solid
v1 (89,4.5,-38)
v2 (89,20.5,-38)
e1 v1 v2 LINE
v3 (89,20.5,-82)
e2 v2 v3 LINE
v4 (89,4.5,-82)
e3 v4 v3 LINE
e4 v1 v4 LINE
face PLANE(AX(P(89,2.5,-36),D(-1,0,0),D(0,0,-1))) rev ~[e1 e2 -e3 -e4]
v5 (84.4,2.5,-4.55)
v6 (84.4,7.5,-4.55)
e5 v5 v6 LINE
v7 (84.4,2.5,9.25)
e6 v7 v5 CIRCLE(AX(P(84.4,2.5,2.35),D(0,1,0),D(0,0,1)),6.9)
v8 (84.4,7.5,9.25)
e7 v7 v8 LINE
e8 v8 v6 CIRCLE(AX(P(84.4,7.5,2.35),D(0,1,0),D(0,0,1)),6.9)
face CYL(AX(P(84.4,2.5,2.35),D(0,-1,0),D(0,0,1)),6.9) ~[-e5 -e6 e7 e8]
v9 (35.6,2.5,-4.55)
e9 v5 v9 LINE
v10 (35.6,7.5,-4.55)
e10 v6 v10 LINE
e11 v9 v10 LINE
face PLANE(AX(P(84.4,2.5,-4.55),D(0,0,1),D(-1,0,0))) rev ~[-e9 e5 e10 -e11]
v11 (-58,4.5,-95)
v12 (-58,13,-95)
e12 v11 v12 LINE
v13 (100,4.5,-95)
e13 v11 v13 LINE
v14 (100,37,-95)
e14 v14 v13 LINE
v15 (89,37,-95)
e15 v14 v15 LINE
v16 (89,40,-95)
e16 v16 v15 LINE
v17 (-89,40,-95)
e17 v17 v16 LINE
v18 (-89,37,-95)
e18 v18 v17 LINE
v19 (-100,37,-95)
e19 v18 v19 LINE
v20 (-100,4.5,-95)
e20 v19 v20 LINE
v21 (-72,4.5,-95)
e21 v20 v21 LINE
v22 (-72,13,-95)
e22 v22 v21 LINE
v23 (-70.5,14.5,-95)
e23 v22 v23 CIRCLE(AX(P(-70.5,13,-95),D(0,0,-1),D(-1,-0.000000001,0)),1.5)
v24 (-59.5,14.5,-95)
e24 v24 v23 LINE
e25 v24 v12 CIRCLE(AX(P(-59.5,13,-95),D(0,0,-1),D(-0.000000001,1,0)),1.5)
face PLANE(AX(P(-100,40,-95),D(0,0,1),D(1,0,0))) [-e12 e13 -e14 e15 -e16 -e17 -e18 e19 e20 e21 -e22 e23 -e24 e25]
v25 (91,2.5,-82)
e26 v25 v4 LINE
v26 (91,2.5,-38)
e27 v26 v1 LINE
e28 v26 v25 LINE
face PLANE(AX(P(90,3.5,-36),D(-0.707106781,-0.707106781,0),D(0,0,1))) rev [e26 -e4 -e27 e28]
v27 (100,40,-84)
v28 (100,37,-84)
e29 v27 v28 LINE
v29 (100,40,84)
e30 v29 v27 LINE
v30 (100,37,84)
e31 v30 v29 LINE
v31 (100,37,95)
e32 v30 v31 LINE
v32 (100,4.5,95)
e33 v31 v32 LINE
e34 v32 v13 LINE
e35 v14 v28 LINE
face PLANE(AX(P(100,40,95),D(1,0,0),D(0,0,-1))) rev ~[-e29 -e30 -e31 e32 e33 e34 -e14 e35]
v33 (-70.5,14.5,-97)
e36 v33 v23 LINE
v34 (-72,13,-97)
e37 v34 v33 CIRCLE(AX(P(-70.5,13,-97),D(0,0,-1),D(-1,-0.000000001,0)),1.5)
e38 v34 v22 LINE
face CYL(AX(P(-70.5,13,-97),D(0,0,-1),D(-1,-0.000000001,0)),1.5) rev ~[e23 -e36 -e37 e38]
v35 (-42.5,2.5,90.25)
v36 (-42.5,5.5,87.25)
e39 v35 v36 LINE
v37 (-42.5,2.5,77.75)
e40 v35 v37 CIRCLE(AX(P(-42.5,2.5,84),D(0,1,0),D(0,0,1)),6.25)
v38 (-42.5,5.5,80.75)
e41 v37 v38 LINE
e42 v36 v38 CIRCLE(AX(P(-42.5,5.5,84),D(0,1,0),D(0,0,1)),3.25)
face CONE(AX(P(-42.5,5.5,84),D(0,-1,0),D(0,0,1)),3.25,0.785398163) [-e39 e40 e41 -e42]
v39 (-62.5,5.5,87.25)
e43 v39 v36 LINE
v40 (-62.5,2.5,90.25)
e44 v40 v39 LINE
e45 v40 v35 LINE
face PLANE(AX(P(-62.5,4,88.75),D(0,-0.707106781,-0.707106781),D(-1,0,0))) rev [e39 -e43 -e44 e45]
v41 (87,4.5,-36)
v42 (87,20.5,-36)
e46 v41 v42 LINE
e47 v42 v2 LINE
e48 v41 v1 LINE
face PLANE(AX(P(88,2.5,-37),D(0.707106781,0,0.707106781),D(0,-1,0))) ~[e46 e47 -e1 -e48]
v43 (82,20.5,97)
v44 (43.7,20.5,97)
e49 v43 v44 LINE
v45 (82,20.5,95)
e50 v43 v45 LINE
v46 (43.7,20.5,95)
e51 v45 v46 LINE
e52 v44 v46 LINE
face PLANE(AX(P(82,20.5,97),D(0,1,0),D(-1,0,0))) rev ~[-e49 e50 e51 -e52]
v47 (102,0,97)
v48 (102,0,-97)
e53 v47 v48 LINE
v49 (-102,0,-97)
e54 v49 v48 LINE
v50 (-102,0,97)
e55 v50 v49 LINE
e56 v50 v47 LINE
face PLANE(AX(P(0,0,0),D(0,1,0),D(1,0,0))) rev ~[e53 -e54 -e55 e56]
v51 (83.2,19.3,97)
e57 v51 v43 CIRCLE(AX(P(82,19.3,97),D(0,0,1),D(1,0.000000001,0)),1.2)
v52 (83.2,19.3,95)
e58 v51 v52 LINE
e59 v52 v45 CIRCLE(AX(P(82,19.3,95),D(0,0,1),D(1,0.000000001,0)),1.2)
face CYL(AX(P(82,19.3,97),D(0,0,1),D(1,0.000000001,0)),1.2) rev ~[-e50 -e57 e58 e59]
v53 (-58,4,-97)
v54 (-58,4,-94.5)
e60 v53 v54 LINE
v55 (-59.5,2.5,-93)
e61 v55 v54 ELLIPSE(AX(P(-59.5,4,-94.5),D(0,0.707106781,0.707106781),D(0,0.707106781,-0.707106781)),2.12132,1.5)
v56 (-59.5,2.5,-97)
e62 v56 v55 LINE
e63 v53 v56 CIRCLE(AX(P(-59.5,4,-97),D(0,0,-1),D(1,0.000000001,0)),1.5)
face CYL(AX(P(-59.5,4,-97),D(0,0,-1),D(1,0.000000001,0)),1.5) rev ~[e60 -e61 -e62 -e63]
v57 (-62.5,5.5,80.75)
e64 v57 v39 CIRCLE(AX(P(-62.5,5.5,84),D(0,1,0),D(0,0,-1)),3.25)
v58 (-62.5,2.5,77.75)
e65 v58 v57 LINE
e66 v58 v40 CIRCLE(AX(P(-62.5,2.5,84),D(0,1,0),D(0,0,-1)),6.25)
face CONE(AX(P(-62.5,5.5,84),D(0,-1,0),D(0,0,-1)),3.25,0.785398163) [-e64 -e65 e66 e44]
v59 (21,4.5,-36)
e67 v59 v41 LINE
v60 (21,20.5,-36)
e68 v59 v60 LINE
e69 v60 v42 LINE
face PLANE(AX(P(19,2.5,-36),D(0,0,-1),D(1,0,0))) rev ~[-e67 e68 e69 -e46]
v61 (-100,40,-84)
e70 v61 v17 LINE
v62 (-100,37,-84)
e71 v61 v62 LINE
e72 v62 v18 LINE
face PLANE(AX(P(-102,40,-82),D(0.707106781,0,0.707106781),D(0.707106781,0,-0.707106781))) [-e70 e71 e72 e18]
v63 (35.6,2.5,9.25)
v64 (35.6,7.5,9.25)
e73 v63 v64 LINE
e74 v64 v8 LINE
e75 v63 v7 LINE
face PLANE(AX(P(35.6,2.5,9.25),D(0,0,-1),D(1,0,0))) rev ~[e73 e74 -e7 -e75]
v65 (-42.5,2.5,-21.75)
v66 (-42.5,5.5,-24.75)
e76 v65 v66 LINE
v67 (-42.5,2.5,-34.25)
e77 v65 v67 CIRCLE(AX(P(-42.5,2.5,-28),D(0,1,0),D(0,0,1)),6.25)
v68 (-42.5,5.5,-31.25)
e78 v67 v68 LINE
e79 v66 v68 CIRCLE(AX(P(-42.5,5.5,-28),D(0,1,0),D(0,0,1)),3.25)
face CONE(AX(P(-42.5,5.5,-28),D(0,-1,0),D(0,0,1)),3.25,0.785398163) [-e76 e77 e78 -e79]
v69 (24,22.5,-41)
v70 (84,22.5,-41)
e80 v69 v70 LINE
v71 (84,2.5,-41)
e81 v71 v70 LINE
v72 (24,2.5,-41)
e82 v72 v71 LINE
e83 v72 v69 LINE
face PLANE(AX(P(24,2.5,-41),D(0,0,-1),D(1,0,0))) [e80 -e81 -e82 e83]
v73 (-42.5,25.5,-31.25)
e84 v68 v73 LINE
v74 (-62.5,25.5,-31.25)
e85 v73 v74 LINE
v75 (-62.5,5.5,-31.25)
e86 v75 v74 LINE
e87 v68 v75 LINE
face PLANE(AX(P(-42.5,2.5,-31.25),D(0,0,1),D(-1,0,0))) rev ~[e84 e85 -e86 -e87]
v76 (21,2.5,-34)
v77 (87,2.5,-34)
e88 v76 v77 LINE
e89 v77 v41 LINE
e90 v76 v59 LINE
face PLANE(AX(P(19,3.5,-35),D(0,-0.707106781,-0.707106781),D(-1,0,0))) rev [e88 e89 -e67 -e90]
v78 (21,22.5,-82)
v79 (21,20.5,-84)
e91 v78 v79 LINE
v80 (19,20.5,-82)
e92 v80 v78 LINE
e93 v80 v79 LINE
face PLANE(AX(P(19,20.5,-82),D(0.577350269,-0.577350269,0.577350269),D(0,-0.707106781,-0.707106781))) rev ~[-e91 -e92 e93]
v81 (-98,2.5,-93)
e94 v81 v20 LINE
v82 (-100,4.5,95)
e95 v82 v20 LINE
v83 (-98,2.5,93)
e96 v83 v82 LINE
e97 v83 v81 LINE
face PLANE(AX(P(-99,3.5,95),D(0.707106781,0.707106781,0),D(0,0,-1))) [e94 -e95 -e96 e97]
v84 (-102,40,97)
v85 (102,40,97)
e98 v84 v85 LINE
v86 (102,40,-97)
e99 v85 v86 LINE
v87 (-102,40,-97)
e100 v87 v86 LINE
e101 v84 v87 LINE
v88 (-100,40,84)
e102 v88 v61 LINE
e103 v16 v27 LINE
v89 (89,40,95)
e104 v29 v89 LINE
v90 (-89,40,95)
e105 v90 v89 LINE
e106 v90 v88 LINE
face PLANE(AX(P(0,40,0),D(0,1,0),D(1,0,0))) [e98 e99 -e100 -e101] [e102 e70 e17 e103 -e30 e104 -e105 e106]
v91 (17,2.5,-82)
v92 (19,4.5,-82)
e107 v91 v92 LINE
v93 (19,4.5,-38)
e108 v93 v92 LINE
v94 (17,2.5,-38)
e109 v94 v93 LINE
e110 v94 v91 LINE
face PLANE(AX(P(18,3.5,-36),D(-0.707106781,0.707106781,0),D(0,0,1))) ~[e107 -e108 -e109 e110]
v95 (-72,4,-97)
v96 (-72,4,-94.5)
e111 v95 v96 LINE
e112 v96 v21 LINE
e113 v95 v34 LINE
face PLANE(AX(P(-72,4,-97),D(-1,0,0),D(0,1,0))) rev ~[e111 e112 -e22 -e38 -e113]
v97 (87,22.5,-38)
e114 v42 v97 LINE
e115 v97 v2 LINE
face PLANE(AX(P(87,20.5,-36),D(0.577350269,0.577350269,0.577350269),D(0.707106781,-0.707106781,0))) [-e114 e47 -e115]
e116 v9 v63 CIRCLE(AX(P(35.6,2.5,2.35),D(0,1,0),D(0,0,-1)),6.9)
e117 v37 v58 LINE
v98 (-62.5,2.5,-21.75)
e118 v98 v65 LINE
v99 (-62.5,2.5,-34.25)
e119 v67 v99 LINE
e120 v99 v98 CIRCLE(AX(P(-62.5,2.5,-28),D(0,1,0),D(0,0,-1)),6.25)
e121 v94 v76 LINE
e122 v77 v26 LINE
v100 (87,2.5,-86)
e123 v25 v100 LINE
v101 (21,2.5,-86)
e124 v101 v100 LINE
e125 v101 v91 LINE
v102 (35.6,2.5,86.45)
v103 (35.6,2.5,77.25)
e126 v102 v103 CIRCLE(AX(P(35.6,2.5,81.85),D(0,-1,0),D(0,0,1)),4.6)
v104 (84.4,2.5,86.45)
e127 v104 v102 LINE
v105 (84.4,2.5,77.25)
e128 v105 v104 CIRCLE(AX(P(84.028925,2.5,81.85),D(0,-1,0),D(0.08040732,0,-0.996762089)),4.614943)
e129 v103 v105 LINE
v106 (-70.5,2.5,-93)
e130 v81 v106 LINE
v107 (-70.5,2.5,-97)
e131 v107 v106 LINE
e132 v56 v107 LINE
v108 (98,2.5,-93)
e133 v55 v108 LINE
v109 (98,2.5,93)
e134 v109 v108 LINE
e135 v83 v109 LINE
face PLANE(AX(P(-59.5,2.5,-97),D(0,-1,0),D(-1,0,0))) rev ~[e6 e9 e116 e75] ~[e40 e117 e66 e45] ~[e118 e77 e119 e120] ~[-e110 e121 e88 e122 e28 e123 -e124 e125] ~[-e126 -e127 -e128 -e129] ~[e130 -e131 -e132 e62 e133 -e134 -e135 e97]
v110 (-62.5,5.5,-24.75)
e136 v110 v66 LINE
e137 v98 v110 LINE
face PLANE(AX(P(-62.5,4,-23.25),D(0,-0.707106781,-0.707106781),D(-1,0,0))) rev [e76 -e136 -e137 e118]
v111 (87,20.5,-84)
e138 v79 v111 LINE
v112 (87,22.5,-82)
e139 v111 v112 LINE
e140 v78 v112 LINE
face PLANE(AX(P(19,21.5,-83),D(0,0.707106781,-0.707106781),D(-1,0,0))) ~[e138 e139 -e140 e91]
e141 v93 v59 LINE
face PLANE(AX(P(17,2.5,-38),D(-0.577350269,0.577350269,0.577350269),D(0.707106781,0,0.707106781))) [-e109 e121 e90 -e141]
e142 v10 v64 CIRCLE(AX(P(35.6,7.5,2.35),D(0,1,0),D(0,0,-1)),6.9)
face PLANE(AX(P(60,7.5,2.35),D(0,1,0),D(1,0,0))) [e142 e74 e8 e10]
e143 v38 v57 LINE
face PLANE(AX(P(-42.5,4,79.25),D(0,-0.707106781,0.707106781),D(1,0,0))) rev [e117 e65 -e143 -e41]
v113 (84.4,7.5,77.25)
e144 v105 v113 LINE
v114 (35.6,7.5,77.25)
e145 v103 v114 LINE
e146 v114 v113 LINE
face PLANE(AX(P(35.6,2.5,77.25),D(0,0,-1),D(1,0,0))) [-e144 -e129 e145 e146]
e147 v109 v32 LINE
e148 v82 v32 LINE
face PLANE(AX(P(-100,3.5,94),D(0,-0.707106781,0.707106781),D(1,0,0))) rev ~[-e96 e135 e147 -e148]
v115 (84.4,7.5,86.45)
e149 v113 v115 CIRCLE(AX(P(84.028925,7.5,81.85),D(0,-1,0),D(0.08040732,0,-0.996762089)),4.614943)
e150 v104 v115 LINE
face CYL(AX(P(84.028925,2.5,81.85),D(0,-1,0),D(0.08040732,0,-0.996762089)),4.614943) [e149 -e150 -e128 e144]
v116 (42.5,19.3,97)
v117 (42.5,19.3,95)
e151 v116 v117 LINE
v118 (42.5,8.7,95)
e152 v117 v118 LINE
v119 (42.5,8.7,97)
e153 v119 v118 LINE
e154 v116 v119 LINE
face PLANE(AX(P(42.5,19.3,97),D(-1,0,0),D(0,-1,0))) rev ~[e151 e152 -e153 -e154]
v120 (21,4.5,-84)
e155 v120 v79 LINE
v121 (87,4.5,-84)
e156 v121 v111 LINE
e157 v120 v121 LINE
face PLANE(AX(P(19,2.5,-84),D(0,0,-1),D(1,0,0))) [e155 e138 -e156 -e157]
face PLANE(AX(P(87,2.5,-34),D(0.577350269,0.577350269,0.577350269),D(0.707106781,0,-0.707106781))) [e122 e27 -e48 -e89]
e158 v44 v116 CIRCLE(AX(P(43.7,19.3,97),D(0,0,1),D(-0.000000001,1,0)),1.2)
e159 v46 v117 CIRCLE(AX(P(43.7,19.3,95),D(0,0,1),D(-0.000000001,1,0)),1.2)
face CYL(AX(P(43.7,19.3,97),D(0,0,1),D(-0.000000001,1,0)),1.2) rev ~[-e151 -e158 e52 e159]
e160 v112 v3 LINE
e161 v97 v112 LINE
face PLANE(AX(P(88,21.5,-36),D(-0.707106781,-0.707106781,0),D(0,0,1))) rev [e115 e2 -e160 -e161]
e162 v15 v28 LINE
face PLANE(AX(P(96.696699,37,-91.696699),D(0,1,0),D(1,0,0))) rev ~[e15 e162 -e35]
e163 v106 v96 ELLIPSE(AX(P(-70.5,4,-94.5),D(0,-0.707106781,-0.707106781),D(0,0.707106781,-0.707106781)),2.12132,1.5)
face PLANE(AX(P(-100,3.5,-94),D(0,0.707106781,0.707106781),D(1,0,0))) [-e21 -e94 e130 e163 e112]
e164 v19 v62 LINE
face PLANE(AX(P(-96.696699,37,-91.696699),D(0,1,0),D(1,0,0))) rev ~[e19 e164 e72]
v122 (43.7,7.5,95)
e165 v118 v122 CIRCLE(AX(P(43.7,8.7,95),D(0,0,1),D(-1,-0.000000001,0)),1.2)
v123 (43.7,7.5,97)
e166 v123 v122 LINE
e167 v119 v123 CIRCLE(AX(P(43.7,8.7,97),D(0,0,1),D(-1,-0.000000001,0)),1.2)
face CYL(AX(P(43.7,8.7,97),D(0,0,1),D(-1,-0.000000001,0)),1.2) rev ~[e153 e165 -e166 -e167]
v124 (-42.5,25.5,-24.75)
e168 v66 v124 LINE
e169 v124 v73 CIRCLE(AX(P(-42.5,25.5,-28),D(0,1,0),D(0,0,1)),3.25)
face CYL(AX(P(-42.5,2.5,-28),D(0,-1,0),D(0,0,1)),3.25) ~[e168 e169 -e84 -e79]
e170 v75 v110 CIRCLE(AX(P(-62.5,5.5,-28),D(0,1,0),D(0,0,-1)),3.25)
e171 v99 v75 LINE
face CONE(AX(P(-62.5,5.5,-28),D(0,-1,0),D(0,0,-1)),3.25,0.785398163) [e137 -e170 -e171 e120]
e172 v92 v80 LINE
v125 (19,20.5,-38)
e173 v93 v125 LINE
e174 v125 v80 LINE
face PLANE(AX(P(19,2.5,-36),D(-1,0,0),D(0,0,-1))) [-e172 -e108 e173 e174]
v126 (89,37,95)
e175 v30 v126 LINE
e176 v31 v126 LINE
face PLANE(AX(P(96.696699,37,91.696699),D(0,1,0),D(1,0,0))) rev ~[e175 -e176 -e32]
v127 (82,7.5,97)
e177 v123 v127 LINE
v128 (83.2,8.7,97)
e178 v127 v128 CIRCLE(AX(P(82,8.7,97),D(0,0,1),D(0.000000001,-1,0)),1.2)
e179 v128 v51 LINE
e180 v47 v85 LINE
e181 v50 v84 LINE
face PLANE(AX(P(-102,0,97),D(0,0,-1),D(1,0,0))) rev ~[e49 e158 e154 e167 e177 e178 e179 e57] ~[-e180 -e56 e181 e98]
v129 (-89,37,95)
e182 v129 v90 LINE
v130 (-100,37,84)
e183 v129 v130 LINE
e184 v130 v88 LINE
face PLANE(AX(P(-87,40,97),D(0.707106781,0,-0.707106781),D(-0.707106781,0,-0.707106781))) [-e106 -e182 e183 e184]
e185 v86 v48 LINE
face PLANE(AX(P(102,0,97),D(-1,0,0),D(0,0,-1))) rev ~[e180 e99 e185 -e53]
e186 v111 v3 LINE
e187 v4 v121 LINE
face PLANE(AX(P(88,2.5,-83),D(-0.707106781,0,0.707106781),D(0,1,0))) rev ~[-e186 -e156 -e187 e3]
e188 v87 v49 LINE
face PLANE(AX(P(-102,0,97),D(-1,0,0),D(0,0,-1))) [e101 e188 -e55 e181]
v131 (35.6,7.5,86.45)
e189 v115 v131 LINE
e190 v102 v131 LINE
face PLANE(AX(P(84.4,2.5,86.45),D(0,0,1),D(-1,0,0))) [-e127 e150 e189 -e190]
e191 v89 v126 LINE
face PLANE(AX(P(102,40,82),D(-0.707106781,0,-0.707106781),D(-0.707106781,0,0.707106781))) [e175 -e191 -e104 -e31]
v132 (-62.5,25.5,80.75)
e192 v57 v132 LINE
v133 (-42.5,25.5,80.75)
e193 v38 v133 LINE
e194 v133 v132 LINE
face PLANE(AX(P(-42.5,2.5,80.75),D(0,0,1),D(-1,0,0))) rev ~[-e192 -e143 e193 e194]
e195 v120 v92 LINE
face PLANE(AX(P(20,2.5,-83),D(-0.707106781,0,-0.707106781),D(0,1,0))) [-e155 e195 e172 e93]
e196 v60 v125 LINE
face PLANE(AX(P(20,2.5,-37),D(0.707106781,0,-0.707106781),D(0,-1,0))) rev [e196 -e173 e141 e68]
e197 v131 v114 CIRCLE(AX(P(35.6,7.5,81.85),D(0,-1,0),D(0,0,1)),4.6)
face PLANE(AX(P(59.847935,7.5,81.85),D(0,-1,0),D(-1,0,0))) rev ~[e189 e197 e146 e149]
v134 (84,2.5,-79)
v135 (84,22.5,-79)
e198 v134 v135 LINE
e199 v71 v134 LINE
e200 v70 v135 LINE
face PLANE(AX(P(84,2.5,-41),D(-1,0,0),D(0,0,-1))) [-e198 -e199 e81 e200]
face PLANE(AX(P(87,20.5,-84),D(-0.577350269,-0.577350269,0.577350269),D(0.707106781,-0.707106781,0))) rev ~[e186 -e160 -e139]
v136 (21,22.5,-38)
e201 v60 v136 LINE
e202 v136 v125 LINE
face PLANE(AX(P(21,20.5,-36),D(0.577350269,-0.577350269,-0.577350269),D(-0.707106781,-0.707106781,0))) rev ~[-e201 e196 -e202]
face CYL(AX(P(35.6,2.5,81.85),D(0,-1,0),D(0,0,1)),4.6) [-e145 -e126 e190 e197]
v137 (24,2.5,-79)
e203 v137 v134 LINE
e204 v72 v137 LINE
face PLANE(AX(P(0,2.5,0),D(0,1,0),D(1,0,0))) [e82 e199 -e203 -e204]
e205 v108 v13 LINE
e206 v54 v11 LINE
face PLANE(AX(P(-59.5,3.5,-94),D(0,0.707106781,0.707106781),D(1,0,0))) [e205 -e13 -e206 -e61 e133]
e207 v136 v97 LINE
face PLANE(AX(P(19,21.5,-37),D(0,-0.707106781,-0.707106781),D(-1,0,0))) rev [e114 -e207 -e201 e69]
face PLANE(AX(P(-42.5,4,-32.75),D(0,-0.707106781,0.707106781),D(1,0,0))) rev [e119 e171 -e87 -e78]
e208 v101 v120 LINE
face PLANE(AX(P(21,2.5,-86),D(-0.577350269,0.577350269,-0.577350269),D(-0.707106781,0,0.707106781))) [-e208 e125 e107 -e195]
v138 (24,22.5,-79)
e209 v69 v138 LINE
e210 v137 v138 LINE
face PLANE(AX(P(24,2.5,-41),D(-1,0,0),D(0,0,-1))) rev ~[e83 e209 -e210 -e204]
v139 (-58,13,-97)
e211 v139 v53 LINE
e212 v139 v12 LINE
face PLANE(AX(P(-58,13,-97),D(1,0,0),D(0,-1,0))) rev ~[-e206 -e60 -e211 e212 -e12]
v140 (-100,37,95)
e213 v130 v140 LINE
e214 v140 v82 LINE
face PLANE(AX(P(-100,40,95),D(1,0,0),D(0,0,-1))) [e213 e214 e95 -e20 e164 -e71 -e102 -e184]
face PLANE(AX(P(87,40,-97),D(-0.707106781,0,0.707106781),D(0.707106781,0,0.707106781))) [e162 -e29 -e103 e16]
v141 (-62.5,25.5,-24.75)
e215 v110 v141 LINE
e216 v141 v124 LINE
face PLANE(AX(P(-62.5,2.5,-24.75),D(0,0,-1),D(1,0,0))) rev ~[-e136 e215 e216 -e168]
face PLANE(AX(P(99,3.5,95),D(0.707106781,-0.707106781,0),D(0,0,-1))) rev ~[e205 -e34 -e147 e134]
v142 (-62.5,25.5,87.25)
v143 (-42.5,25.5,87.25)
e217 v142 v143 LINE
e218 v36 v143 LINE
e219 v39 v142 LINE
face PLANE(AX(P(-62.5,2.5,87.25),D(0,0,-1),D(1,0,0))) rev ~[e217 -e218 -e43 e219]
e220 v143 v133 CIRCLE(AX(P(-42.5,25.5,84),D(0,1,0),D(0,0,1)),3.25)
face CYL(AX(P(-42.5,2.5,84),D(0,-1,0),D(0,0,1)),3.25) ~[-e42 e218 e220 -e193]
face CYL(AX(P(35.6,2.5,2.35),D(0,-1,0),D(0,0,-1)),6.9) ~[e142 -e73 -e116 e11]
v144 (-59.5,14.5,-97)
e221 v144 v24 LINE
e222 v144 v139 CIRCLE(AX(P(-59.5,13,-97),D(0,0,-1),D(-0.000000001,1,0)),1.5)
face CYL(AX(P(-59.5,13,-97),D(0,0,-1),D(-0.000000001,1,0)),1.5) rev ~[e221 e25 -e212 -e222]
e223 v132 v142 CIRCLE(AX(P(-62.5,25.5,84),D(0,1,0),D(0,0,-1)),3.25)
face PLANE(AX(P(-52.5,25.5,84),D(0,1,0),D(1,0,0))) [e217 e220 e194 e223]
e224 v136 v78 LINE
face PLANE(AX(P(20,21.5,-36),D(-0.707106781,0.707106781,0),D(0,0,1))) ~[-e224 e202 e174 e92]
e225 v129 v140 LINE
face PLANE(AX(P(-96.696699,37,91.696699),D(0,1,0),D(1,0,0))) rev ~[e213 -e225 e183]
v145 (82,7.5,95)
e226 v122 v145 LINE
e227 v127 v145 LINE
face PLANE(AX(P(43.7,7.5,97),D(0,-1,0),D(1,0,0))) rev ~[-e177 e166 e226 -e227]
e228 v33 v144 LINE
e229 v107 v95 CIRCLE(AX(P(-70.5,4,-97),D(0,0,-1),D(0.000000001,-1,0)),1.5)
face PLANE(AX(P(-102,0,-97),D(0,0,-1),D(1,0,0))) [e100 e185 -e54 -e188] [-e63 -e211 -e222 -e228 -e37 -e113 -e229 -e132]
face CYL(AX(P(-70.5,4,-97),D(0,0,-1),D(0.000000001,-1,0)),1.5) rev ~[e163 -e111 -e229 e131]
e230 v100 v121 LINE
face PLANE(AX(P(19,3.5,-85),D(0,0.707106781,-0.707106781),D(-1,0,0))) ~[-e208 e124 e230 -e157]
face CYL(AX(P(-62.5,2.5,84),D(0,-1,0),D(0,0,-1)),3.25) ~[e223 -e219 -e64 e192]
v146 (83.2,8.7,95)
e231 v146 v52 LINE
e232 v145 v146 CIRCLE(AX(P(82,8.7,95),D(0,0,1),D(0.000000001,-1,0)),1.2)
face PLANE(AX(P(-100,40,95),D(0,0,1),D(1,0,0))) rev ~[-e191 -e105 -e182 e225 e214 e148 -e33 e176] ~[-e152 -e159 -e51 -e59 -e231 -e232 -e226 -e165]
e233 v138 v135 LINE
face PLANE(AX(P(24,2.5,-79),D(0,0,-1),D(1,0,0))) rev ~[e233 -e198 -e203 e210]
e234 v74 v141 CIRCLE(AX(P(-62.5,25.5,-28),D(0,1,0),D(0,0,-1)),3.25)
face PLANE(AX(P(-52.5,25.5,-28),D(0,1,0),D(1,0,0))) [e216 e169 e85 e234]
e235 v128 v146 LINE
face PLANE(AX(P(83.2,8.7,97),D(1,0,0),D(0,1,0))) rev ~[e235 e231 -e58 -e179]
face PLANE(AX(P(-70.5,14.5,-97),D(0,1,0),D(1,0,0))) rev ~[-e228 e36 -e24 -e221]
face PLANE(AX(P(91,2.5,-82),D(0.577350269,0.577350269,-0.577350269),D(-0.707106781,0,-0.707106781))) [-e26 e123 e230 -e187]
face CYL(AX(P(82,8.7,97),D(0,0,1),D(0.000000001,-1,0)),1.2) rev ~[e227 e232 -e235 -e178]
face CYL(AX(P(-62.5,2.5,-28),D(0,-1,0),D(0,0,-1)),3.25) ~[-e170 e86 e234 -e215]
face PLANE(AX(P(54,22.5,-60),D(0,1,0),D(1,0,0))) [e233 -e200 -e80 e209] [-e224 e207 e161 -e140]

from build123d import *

# Parameters (mm, degrees)
IZIM1_W                     = 204
IZIM1_H                     = 194
Y_KSEKLIK_EKSTR_ZYON2_DEPTH = 40
IZIM3_W                     = 200
IZIM3_H                     = 190
KES_EKSTR_ZYON2_DEPTH       = 37.5
Y_KSEKLIK_EKSTR_ZYON3_DEPTH = 23
IZIM6_W                     = 70
IZIM6_H                     = 48
IZIM6_W_2                   = 60
IZIM6_H_2                   = 38
Y_KSEKLIK_EKSTR_ZYON4_DEPTH = 20
Y_KSEKLIK_EKSTR_ZYON7_DEPTH = 5
Y_KSEKLIK_EKSTR_ZYON8_DEPTH = 3
KES_EKSTR_ZYON5_DEPTH       = 3
KES_EKSTR_ZYON7_DEPTH       = 3
PAH1_SIZE                   = 2
PAH2_SIZE                   = 3


with BuildPart() as part:
    # Çizim1 → Yükseklik-Ekstrüzyon2 (new body)
    with BuildSketch(Plane(origin=(0, 0, 0), x_dir=(1, 0, 0), z_dir=(0, 1, 0))):
        Rectangle(IZIM1_W, IZIM1_H)
    extrude(amount=Y_KSEKLIK_EKSTR_ZYON2_DEPTH)

    # Çizim3 → Kes-Ekstrüzyon2 (cut)
    with BuildSketch(Plane(origin=(0, 40, 0), x_dir=(1, 0, 0), z_dir=(0, 1, 0))):
        Rectangle(IZIM3_W, IZIM3_H)
    extrude(amount=-KES_EKSTR_ZYON2_DEPTH, mode=Mode.SUBTRACT)

    # Çizim4 → Yükseklik-Ekstrüzyon3 (add)
    with BuildSketch(Plane(origin=(0, 2.5, 0), x_dir=(1, 0, 0), z_dir=(0, 1, 0))):
        with BuildLine():
            Line((-62.5, 24.75), (-42.5, 24.75))
            ThreePointArc((-42.5, 24.75), (-39.25, 28), (-42.5, 31.25))
            Line((-42.5, 31.25), (-62.5, 31.25))
            ThreePointArc((-62.5, 31.25), (-65.75, 28), (-62.5, 24.75))
        make_face()
        with BuildLine():
            Line((-62.5, -87.25), (-42.5, -87.25))
            ThreePointArc((-42.5, -87.25), (-39.25, -84), (-42.5, -80.75))
            Line((-42.5, -80.75), (-62.5, -80.75))
            ThreePointArc((-62.5, -80.75), (-65.75, -84), (-62.5, -87.25))
        make_face()
    extrude(amount=Y_KSEKLIK_EKSTR_ZYON3_DEPTH)

    # Çizim6 → Yükseklik-Ekstrüzyon4 (add)
    with BuildSketch(Plane(origin=(0, 2.5, 0), x_dir=(1, 0, 0), z_dir=(0, 1, 0))):
        with Locations((54, 60)):
            Rectangle(IZIM6_W, IZIM6_H)
        with Locations((54, 60)):
            Rectangle(IZIM6_W_2, IZIM6_H_2, mode=Mode.SUBTRACT)
    extrude(amount=Y_KSEKLIK_EKSTR_ZYON4_DEPTH)

    # Çizim7 → Yükseklik-Ekstrüzyon7 (add)
    with BuildSketch(Plane(origin=(0, 2.5, 0), x_dir=(1, 0, 0), z_dir=(0, 1, 0))):
        with BuildLine():
            Line((35.6, -9.25), (84.4, -9.25))
            ThreePointArc((84.4, -9.25), (91.3, -2.35), (84.4, 4.55))
            Line((84.4, 4.55), (35.6, 4.55))
            ThreePointArc((35.6, 4.55), (28.7, -2.35), (35.6, -9.25))
        make_face()
        with BuildLine():
            Line((35.6, -77.25), (84.4, -77.25))
            ThreePointArc((84.4, -77.25), (88.64386759, -81.85), (84.4, -86.45))
            Line((84.4, -86.45), (35.6, -86.45))
            ThreePointArc((35.6, -86.45), (31, -81.85), (35.6, -77.25))
        make_face()
    extrude(amount=Y_KSEKLIK_EKSTR_ZYON7_DEPTH)

    # Çizim8 → Yükseklik-Ekstrüzyon8 (add)
    with BuildSketch(Plane(origin=(0, 40, 0), x_dir=(1, 0, 0), z_dir=(0, 1, 0))):
        Polygon((-102, 97), (-102, 82), (-87, 97), align=None)
        Polygon((102, 97), (87, 97), (102, 82), align=None)
        Polygon((102, -97), (102, -82), (87, -97), align=None)
        Polygon((-102, -97), (-87, -97), (-102, -82), align=None)
    extrude(amount=-Y_KSEKLIK_EKSTR_ZYON8_DEPTH)

    # Çizim9 → Kes-Ekstrüzyon5 (cut)
    with BuildSketch(Plane.XY.offset(97)):
        with BuildLine():
            Line((43.7, 7.5), (82, 7.5))
            ThreePointArc((82, 7.5), (82.848528137, 7.851471863), (83.2, 8.7))
            Line((83.2, 8.7), (83.2, 19.3))
            ThreePointArc((83.2, 19.3), (82.848528137, 20.148528137), (82, 20.5))
            Line((82, 20.5), (43.7, 20.5))
            ThreePointArc((43.7, 20.5), (42.851471863, 20.148528137), (42.5, 19.3))
            Line((42.5, 19.3), (42.5, 8.7))
            ThreePointArc((42.5, 8.7), (42.851471863, 7.851471863), (43.7, 7.5))
        make_face()
    extrude(amount=-KES_EKSTR_ZYON5_DEPTH, mode=Mode.SUBTRACT)

    # Çizim11 → Kes-Ekstrüzyon7 (cut)
    with BuildSketch(Plane(origin=(0, 0, -97), x_dir=(-1, 0, 0), z_dir=(0, 0, -1))):
        with BuildLine():
            Line((59.5, 2.5), (70.5, 2.5))
            ThreePointArc((70.5, 2.5), (71.560660172, 2.939339828), (72, 4))
            Line((72, 4), (72, 13))
            ThreePointArc((72, 13), (71.560660172, 14.060660172), (70.5, 14.5))
            Line((70.5, 14.5), (59.5, 14.5))
            ThreePointArc((59.5, 14.5), (58.439339828, 14.060660172), (58, 13))
            Line((58, 13), (58, 4))
            ThreePointArc((58, 4), (58.439339828, 2.939339828), (59.5, 2.5))
        make_face()
    extrude(amount=-KES_EKSTR_ZYON7_DEPTH, mode=Mode.SUBTRACT)

    # Pah1
    pah1_edges = [part.edges().sort_by_distance(p)[0] for p in [
        (0, 2.5, 95),
        (-100, 2.5, 0),
        (-85.25, 2.5, -95),
        (100, 2.5, 0),
        (20.25, 2.5, -95),
        (89, 22.5, -60),
        (54, 22.5, -84),
        (19, 22.5, -60),
        (54, 22.5, -36),
        (89, 2.5, -60),
        (89, 12.5, -36),
        (54, 2.5, -84),
        (89, 12.5, -84),
        (19, 2.5, -60),
        (19, 12.5, -84),
        (54, 2.5, -36),
        (19, 12.5, -36),
    ]]
    chamfer(pah1_edges, length=PAH1_SIZE)

    # Pah2
    pah2_edges = [part.edges().sort_by_distance(p)[0] for p in [
        (-39.25, 2.5, 84),
        (-52.5, 2.5, 80.75),
        (-65.75, 2.5, 84),
        (-52.5, 2.5, 87.25),
        (-65.75, 2.5, -28),
        (-52.5, 2.5, -24.75),
        (-39.25, 2.5, -28),
        (-52.5, 2.5, -31.25),
    ]]
    chamfer(pah2_edges, length=PAH2_SIZE)


solid = part.part
